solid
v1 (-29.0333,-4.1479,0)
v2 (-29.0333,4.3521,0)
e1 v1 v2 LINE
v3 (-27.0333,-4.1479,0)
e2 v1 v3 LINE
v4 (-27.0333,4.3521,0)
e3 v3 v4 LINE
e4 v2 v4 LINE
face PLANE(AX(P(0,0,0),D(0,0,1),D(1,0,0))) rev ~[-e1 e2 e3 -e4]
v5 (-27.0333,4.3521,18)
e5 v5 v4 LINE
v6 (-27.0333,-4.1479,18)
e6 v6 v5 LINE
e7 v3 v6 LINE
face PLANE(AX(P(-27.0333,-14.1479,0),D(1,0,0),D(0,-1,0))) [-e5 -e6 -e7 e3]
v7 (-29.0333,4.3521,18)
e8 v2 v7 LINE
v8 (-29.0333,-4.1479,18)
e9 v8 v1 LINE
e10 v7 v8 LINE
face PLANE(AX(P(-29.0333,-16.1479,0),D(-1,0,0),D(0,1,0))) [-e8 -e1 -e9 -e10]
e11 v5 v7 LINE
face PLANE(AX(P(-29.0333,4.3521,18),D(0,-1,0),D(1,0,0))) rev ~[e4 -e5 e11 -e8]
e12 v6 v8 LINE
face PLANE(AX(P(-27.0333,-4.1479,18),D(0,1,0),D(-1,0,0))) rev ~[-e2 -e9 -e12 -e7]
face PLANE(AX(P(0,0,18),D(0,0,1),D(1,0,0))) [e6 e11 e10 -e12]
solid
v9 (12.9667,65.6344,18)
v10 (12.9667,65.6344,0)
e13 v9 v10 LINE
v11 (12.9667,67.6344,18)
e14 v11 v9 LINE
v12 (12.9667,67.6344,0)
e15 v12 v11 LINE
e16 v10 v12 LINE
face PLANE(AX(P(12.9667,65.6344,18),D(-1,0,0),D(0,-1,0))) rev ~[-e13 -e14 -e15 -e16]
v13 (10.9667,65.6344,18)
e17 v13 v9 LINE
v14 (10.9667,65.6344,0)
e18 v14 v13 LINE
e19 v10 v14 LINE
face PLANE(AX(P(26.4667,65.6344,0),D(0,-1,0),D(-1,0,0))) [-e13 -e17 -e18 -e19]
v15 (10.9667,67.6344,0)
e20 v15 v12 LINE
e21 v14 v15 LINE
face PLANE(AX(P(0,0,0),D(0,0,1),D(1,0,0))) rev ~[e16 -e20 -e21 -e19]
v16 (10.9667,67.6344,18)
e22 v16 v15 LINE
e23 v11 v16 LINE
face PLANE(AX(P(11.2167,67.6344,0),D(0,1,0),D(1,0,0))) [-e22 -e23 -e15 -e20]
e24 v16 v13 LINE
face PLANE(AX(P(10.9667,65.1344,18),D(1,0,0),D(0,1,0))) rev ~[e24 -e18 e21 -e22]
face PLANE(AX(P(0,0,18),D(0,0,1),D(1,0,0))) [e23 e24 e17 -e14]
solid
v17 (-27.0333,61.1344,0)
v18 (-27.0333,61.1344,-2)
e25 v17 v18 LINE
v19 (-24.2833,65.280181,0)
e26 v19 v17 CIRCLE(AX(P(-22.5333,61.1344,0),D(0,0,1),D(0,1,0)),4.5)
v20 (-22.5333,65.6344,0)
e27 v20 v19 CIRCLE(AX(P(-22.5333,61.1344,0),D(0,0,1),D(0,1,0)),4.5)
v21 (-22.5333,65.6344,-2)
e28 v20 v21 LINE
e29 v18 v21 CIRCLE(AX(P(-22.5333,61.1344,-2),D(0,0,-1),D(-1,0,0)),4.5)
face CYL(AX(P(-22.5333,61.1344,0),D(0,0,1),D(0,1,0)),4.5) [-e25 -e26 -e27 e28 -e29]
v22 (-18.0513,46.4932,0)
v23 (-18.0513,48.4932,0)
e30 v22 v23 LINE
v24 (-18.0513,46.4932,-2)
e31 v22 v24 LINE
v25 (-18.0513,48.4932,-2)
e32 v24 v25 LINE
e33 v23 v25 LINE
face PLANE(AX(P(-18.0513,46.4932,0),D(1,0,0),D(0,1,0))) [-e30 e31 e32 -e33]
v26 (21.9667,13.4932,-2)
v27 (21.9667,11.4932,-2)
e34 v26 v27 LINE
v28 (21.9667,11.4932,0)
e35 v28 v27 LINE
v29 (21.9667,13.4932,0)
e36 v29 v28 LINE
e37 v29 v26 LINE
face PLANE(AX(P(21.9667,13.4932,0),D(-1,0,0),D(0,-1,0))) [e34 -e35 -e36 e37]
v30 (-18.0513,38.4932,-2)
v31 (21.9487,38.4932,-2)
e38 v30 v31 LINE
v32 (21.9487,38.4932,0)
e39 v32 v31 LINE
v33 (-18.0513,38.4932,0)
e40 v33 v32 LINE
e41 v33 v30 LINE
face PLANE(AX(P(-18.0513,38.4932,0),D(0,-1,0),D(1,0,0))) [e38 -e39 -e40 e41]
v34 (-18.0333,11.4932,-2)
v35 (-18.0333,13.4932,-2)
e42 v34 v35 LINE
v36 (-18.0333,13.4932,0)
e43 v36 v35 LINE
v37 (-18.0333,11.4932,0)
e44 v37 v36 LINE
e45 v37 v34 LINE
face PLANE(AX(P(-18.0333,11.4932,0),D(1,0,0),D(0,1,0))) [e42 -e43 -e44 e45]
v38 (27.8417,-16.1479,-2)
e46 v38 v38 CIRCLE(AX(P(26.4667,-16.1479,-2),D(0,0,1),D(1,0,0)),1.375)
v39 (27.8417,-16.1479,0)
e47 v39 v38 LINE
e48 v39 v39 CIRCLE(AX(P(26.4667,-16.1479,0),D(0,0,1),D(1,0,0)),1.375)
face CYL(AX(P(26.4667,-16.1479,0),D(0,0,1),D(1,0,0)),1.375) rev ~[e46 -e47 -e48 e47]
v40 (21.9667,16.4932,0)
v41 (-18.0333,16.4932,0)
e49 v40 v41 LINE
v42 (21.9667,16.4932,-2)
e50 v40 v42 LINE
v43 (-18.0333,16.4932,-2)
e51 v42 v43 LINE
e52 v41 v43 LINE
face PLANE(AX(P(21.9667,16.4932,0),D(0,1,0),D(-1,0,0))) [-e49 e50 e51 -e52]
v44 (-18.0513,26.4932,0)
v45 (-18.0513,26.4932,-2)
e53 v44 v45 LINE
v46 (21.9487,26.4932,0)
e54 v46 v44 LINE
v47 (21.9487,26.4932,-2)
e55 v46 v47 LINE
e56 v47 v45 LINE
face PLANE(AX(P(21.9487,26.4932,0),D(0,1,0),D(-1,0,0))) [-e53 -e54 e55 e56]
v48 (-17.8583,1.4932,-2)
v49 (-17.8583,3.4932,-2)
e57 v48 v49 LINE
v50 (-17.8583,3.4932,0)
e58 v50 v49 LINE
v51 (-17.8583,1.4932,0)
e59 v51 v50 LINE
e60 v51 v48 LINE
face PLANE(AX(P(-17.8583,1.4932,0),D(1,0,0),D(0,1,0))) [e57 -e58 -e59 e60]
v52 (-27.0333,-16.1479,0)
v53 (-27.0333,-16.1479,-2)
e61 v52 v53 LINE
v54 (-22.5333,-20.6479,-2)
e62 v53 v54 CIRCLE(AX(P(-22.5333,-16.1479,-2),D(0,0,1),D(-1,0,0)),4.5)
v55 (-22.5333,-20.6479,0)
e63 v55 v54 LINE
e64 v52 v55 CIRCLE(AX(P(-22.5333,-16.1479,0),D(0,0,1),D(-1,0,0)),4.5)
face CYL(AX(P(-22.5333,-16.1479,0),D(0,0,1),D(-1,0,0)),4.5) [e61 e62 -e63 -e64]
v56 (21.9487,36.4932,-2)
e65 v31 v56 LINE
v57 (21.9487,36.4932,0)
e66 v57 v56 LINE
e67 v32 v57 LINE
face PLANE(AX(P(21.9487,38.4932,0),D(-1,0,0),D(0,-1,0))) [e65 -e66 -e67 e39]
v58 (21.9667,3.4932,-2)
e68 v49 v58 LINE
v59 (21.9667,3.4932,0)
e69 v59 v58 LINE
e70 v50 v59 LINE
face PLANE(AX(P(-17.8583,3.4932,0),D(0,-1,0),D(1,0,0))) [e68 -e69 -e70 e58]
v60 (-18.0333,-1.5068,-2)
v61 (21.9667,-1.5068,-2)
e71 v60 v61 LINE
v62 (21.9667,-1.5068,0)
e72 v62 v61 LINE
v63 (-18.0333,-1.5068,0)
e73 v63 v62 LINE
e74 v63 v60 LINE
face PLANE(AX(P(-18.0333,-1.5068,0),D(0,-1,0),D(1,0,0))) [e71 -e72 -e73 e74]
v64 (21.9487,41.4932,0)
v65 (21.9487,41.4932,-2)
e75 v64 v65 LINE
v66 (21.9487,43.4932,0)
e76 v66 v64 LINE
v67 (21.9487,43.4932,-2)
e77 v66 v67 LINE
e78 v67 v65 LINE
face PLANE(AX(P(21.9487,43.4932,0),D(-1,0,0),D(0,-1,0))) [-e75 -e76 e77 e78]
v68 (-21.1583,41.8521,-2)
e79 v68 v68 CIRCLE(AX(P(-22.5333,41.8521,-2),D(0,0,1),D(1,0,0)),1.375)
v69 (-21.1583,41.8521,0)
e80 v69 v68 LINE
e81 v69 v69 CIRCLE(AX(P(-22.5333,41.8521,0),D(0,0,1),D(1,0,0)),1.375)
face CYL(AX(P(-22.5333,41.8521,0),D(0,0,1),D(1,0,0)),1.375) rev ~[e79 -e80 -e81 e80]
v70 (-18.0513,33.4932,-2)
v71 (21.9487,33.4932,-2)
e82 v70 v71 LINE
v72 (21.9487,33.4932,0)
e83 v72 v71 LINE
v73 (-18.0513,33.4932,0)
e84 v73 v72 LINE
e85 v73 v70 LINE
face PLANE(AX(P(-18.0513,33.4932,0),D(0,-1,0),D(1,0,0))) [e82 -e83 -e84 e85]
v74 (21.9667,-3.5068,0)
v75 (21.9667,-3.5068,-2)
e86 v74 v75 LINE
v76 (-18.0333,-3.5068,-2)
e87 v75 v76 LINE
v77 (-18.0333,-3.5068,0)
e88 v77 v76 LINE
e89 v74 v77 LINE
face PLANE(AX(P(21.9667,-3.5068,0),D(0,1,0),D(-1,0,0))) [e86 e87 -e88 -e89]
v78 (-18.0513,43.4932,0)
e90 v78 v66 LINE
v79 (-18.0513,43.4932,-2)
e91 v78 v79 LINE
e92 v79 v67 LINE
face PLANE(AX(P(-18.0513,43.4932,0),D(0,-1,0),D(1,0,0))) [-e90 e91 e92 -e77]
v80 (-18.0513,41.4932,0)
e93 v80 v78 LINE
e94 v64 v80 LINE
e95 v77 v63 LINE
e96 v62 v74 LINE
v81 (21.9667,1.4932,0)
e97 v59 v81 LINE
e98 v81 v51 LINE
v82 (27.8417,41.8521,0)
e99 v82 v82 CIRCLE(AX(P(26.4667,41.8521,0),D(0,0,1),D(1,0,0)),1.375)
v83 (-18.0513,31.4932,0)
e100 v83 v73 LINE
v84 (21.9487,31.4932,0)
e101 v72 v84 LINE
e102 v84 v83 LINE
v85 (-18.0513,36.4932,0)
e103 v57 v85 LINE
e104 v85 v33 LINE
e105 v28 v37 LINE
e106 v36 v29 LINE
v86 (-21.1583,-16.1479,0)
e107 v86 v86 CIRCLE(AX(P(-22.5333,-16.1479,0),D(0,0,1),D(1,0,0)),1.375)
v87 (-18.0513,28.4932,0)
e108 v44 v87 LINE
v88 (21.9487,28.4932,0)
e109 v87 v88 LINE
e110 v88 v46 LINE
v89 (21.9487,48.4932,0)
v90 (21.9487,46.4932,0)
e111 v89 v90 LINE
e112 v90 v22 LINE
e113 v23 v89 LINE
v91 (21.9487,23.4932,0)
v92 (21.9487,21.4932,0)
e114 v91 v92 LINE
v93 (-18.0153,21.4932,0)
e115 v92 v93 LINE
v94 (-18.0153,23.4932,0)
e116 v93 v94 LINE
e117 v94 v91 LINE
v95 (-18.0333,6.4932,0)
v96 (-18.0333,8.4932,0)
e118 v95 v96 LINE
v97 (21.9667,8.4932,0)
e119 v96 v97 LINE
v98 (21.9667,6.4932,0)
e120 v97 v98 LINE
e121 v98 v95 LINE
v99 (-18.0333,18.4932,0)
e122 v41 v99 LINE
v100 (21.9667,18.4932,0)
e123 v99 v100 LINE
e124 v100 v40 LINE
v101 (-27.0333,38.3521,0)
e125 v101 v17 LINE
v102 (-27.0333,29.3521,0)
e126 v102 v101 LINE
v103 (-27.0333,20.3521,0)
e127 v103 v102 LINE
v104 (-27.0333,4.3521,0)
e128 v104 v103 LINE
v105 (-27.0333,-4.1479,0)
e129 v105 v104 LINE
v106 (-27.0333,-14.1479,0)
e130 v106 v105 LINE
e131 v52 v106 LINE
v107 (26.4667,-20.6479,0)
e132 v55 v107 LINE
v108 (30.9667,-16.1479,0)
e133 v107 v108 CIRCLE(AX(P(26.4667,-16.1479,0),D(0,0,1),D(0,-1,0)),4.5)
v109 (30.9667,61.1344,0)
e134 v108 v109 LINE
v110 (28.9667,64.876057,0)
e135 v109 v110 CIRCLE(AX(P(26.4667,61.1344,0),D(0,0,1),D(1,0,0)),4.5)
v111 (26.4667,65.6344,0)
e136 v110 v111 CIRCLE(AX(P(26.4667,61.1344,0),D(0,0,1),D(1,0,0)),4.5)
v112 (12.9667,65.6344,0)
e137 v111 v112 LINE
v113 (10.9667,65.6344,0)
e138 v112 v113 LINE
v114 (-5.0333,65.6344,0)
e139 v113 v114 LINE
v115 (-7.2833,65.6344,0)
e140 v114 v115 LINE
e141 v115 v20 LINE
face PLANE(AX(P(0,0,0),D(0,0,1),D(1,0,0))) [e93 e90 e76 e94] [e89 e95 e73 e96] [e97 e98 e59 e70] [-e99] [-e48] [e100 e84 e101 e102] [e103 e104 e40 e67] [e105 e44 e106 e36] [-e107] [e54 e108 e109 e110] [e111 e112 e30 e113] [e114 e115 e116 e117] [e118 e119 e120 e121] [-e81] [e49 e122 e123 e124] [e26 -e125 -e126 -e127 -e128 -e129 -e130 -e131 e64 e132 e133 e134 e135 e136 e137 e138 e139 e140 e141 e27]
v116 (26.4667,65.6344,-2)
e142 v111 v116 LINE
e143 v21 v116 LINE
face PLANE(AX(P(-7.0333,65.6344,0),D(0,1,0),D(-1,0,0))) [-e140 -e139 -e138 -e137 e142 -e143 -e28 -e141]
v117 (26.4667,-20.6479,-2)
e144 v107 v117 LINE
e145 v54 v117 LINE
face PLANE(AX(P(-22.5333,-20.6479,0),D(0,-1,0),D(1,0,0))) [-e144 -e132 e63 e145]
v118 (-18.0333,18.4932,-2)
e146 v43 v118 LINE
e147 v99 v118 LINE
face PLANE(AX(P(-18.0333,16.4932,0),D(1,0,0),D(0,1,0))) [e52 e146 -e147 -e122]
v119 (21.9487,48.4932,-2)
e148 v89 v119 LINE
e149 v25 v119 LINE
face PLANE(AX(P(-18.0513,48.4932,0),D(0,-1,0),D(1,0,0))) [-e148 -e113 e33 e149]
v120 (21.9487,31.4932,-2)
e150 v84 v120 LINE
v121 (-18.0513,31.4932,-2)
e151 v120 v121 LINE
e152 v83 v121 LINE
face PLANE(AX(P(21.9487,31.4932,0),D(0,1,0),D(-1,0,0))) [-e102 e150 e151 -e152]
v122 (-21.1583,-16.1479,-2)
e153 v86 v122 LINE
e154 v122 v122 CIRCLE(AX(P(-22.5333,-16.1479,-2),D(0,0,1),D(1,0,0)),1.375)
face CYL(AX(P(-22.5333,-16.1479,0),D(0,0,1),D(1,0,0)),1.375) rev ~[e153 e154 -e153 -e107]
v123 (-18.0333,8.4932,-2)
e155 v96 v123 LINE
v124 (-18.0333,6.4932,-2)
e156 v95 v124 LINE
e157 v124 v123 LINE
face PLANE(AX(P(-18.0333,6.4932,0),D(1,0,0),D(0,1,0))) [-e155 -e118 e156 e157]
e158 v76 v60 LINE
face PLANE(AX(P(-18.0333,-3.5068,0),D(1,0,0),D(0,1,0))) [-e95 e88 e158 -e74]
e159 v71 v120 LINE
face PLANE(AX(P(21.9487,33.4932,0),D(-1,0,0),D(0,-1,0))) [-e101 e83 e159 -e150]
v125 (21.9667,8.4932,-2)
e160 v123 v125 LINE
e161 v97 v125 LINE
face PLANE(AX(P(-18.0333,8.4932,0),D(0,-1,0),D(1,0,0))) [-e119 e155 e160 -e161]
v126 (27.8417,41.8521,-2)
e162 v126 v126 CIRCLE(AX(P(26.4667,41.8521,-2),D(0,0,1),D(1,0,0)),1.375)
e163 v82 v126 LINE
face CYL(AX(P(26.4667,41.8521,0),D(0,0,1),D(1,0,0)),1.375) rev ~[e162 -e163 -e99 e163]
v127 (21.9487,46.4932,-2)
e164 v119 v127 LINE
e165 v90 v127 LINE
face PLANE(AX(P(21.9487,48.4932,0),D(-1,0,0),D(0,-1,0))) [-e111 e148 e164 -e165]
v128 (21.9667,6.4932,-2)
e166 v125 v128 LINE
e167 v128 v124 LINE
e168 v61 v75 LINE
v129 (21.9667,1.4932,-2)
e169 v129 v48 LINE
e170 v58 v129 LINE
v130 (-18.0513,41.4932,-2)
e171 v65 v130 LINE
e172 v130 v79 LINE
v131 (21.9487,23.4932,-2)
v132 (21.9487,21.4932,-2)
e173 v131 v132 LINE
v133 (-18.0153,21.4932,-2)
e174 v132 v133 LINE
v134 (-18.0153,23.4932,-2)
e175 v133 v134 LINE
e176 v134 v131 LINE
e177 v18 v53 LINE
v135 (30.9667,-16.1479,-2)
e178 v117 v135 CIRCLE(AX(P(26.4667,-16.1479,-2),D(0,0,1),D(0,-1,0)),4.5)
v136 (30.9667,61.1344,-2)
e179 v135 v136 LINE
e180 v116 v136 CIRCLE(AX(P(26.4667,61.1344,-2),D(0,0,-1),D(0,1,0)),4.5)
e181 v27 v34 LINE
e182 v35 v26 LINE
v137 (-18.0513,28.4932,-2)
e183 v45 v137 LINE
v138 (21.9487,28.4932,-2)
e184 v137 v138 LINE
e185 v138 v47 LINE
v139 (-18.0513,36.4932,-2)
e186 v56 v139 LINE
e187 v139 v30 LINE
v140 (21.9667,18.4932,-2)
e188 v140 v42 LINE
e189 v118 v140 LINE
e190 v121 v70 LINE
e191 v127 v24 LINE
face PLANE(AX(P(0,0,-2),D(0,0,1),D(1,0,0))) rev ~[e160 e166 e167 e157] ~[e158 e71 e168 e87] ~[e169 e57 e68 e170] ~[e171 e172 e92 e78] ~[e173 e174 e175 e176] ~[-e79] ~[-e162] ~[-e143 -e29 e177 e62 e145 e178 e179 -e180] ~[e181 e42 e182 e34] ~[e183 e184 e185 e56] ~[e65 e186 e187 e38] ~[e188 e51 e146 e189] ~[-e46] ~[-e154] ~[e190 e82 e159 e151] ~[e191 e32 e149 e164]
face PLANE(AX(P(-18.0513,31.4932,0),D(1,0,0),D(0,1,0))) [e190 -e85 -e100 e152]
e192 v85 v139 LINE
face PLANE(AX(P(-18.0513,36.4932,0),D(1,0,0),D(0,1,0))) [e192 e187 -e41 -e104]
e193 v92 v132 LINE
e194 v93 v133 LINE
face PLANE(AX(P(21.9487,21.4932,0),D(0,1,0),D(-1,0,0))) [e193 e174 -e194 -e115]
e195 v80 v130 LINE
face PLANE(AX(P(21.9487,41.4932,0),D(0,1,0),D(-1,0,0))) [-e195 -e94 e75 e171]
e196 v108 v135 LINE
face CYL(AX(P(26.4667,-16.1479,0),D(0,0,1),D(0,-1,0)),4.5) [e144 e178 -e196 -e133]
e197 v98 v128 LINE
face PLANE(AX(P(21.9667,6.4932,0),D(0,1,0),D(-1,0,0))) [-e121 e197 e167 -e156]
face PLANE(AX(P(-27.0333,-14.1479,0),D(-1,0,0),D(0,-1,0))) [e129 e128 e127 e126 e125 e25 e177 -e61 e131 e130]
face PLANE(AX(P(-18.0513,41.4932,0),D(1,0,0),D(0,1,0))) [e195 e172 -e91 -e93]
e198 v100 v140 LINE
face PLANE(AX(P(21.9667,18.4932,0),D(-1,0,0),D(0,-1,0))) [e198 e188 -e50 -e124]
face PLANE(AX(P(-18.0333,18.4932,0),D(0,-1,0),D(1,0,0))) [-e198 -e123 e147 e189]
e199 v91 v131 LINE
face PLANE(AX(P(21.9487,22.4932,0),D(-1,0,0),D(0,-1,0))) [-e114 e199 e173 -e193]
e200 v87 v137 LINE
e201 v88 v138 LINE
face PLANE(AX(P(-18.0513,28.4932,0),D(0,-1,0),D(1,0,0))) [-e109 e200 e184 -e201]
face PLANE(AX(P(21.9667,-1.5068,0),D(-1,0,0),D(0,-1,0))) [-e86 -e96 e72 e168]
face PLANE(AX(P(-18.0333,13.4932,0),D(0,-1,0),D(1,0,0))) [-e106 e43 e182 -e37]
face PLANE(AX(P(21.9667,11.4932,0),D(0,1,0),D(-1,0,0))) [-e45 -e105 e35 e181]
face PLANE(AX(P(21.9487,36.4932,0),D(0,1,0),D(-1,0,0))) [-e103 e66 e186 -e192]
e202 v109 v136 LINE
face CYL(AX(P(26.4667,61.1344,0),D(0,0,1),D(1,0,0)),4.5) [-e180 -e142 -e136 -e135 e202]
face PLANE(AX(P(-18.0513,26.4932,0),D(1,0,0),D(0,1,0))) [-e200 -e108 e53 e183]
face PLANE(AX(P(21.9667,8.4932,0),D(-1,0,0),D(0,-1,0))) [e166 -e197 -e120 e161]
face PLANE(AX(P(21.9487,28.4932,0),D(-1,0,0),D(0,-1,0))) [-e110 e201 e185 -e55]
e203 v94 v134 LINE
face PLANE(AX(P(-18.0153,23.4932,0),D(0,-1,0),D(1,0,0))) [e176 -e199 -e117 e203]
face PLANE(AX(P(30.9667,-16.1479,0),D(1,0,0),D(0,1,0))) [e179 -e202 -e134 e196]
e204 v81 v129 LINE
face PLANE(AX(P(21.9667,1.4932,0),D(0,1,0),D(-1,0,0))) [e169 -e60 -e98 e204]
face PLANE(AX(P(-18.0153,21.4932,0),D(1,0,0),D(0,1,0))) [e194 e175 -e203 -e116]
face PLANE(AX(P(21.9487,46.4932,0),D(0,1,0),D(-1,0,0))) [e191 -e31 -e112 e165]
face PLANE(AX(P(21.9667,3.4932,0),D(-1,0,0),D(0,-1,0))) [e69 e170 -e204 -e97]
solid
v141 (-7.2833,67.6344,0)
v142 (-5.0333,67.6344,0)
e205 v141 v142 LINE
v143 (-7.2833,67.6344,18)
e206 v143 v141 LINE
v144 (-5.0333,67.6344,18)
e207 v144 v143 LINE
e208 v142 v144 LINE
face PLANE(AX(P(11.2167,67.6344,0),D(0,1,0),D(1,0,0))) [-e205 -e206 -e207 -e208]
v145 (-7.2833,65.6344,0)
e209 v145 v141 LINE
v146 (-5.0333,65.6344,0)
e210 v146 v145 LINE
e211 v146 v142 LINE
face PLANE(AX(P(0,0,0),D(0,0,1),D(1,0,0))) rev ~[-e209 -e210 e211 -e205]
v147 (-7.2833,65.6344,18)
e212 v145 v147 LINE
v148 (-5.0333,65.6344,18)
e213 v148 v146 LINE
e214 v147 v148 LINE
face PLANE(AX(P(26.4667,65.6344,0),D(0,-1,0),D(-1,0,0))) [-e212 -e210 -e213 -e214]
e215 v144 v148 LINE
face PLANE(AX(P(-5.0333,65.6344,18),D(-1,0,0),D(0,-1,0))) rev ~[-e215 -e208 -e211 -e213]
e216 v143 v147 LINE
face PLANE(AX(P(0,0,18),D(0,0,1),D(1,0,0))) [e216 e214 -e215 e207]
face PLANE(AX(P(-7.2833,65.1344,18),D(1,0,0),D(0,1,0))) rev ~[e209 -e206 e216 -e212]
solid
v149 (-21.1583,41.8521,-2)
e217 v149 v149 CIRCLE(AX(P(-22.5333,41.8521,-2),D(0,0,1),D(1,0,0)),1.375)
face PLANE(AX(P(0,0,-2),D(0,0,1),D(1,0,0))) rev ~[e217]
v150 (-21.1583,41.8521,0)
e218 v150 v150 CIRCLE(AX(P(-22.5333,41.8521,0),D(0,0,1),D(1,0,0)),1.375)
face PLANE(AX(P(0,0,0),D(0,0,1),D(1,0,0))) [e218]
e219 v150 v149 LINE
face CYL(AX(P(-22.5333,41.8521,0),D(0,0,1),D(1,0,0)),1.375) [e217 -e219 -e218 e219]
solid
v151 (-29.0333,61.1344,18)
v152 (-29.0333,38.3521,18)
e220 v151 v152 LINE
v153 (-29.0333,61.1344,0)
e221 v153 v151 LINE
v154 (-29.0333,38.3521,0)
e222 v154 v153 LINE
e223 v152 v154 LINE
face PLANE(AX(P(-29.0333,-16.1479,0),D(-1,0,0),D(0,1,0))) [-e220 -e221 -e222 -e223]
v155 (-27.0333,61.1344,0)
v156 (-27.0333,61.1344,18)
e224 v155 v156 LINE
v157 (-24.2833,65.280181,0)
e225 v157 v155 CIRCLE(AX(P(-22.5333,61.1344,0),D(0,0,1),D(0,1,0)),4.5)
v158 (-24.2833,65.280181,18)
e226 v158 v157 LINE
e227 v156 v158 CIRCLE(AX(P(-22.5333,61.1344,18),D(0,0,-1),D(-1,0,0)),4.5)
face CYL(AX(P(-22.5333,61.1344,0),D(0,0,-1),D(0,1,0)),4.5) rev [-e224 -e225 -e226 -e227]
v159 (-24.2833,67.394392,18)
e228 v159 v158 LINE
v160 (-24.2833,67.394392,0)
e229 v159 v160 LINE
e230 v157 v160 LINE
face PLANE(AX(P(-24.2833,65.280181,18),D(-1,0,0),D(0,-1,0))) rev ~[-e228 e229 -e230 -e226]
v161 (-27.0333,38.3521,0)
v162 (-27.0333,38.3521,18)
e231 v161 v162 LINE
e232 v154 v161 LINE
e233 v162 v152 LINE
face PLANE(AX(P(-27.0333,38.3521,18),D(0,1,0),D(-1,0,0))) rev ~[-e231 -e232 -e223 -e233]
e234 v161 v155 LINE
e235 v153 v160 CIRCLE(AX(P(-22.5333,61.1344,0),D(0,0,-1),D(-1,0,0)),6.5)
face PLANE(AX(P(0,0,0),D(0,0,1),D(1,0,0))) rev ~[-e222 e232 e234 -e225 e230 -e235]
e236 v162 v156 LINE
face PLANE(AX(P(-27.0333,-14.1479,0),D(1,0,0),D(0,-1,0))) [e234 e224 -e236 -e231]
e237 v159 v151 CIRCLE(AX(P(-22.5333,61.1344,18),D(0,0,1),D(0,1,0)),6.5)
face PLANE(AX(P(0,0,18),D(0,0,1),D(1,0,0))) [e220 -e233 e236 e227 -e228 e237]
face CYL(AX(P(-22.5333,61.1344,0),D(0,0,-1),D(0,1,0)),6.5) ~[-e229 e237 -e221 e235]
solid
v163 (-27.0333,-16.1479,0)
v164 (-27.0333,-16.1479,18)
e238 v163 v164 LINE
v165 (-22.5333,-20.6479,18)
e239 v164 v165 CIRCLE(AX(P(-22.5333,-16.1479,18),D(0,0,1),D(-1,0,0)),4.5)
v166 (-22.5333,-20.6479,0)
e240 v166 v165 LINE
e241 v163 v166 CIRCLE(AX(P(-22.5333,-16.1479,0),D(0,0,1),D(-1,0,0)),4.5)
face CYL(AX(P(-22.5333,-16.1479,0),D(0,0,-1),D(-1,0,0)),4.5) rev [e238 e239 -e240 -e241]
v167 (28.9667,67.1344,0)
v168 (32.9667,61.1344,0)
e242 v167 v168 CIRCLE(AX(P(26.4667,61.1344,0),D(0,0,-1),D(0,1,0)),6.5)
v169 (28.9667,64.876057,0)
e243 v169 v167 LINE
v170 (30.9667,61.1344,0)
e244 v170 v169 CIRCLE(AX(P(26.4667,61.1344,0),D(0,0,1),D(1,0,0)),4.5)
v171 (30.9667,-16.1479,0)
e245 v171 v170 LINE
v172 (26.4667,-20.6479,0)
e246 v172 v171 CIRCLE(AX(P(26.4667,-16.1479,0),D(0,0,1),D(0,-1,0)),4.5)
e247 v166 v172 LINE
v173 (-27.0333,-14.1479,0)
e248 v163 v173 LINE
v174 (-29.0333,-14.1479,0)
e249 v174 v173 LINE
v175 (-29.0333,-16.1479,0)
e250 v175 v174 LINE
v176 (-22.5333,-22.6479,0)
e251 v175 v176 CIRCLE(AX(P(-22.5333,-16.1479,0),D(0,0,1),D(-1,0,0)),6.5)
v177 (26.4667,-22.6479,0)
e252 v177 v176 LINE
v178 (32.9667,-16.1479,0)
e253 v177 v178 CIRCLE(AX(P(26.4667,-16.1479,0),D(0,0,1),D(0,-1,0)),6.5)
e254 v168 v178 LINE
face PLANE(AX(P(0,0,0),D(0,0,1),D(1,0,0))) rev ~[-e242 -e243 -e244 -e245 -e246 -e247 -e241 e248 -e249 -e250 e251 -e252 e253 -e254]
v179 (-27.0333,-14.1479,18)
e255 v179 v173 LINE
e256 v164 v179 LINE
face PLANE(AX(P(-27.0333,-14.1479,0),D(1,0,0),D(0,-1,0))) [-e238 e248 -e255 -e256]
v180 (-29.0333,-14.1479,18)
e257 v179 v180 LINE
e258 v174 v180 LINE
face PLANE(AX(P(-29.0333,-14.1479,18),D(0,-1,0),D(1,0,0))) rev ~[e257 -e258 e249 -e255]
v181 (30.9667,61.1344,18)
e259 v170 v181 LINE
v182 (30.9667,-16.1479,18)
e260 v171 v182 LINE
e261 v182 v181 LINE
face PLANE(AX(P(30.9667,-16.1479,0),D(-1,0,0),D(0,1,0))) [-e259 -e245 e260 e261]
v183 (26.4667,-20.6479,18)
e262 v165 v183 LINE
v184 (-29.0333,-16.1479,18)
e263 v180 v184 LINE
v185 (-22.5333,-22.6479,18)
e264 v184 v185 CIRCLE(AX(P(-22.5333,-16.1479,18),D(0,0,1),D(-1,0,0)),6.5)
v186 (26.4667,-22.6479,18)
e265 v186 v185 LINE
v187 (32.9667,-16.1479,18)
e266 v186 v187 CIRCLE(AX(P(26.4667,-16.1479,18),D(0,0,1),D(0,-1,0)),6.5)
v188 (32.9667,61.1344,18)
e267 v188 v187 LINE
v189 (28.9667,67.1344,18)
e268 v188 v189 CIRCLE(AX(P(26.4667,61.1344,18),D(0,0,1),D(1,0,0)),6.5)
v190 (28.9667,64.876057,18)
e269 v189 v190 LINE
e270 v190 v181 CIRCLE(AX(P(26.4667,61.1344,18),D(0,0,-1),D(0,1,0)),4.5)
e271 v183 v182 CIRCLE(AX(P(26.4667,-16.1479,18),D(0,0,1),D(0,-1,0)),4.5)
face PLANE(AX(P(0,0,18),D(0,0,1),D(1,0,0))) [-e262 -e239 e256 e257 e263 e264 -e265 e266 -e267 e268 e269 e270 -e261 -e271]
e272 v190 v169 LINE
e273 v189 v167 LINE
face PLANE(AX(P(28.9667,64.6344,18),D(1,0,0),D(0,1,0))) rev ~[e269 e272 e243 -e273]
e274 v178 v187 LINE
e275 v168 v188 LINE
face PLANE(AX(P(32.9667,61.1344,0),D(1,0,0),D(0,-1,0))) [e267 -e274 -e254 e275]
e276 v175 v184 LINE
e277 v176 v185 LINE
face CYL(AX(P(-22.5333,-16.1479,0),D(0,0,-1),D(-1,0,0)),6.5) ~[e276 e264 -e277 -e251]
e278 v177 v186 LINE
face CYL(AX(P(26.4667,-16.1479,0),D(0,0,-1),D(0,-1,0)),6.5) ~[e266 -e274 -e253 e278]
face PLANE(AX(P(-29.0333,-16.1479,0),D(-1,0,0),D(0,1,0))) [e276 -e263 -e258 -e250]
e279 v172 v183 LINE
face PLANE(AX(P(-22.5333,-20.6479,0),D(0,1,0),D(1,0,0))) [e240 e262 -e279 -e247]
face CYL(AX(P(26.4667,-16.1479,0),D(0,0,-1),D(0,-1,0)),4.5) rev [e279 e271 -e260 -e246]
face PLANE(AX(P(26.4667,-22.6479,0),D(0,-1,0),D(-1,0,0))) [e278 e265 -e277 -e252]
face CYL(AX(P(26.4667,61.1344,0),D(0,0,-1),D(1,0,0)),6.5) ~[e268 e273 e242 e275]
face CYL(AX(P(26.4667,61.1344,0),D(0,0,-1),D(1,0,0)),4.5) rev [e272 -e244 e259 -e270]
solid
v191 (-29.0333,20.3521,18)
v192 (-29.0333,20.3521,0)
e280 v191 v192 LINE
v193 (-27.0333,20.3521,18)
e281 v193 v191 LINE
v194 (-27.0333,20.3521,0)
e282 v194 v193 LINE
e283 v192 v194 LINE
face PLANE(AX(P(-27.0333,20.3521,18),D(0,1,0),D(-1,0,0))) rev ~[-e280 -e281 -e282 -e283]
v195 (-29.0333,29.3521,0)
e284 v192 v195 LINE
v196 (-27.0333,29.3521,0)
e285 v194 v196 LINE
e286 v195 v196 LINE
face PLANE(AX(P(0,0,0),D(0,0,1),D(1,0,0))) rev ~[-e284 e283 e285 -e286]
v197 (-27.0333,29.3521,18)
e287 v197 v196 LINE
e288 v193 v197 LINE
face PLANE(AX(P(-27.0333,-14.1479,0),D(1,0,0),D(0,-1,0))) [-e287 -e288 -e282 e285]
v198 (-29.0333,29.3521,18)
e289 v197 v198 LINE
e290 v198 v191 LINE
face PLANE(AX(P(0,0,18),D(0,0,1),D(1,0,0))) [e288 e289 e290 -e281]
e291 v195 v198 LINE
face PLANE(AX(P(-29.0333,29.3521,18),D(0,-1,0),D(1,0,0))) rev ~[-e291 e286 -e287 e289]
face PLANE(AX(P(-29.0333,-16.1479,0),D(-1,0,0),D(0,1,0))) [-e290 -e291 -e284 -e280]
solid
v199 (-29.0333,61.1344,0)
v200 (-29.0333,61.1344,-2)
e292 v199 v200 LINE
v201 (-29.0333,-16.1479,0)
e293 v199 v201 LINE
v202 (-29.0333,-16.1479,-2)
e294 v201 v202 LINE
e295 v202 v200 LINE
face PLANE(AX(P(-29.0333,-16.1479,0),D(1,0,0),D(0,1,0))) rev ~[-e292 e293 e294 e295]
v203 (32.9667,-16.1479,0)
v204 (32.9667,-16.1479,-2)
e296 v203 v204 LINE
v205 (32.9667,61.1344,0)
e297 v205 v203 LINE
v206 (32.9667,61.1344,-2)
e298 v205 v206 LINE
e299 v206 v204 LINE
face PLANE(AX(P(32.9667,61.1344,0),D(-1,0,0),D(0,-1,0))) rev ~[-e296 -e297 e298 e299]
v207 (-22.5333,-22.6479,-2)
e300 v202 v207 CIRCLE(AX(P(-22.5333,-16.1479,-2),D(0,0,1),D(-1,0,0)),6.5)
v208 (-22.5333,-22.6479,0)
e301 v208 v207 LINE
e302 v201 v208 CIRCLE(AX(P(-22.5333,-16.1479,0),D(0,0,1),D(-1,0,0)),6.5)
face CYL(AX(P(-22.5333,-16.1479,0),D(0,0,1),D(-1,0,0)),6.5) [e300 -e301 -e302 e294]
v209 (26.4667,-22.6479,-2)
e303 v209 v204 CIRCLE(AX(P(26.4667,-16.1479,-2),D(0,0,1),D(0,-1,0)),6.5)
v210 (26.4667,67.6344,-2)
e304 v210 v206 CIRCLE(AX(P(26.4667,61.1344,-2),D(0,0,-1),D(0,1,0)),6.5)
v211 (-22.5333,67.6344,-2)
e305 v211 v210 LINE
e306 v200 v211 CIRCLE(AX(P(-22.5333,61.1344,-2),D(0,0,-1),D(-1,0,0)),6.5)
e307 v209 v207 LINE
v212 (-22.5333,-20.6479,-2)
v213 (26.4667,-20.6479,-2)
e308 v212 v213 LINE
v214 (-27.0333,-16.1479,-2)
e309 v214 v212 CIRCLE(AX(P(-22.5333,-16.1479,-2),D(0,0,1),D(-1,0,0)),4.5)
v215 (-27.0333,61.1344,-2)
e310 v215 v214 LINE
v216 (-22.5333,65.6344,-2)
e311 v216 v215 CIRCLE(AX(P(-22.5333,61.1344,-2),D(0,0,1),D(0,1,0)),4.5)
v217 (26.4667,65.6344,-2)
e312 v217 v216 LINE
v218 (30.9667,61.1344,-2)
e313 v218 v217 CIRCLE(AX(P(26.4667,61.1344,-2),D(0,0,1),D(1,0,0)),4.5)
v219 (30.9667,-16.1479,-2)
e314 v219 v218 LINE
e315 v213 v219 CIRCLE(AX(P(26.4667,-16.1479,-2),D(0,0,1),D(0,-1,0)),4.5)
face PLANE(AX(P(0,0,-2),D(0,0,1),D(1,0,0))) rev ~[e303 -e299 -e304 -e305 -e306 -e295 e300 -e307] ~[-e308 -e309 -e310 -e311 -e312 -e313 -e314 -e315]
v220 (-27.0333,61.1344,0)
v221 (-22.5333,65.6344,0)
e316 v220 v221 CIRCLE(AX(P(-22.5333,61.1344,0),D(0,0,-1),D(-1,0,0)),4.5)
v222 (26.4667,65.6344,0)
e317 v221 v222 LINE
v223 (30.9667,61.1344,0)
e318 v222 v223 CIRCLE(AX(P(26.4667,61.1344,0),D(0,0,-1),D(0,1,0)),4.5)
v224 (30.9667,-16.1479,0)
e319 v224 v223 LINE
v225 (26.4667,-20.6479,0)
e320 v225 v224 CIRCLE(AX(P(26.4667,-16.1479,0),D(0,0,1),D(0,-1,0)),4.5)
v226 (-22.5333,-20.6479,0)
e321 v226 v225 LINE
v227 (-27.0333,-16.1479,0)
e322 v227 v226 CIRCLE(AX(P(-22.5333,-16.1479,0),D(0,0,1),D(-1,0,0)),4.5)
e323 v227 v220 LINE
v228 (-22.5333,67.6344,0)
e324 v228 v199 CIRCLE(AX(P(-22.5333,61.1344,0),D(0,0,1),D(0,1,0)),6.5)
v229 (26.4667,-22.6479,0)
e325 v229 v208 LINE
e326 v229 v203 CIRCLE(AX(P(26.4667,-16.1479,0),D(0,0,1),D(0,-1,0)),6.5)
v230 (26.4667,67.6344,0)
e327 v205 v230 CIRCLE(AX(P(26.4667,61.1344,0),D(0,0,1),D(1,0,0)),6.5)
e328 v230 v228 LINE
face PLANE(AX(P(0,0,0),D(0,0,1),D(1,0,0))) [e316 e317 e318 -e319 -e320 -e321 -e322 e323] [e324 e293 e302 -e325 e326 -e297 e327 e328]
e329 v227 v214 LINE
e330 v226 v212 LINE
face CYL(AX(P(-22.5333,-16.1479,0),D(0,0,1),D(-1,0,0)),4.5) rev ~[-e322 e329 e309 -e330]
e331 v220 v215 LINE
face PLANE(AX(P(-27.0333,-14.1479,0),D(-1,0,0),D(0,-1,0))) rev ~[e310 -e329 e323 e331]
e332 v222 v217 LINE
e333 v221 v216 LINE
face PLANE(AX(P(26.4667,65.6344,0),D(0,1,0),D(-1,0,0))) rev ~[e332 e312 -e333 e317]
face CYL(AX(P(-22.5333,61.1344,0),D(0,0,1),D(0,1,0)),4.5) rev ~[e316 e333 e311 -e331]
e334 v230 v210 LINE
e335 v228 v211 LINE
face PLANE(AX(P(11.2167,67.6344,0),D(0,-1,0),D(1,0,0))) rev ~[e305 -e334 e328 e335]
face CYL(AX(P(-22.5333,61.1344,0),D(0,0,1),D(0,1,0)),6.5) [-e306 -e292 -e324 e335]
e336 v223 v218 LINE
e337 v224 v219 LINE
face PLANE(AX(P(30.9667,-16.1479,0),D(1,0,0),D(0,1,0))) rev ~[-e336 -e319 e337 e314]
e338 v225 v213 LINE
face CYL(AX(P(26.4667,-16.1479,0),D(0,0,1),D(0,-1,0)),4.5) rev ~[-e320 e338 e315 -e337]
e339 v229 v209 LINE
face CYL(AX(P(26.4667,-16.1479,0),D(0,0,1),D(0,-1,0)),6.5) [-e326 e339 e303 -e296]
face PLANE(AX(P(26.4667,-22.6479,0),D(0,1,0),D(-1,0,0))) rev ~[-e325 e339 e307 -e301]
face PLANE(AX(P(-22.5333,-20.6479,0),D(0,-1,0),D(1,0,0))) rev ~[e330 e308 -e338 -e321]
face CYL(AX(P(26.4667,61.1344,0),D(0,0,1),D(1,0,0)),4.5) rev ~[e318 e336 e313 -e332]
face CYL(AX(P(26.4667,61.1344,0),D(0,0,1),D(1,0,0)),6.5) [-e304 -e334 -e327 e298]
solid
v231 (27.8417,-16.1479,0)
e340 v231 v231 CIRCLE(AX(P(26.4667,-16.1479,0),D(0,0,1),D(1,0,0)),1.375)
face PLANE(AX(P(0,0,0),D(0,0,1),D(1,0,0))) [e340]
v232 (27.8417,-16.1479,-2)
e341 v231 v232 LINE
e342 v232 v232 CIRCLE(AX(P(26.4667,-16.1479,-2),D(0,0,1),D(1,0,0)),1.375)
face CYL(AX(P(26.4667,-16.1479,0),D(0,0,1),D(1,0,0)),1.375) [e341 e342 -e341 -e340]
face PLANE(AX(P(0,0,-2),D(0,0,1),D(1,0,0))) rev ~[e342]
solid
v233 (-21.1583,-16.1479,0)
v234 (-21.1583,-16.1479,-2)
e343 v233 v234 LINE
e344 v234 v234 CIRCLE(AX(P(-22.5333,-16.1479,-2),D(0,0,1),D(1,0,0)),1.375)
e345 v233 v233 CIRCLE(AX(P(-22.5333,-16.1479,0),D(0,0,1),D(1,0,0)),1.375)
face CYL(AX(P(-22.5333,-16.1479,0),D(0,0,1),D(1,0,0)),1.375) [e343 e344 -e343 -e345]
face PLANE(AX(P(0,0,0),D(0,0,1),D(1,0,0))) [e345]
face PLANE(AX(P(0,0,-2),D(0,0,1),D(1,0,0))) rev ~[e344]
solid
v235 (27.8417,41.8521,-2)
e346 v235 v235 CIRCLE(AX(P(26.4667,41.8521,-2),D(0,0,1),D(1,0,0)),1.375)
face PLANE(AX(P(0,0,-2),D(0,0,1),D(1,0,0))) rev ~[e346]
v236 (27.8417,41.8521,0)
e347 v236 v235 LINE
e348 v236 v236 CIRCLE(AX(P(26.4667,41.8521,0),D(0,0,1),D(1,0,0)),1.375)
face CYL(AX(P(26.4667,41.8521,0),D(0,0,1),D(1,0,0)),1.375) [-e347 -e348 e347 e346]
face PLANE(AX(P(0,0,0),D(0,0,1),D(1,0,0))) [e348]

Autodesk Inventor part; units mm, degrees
ref_plane "YZ Plane" through (0, 0, 0) normal (1, 0, 0) x (0, 1, 0)
ref_plane "XZ Plane" through (0, 0, 0) normal (0, 1, 0) x (-1, 0, 0)
ref_plane "XY Plane" through (0, 0, 0) normal (0, 0, 1) x (1, 0, 0)
sketch "Boceto1" plane through (0, 0, 0) normal (0, 0, 1) x (1, 0, 0)
  line L0 (26.4667, -19.6479) -> (-22.5333, -19.6479) construction
  line L1 (-26.0333, -16.1479) -> (-26.0333, 61.1344) construction
  arc A0 (-26.0333, -16.1479) -> (-22.5333, -19.6479) centre (-22.5333, -16.1479) ccw construction
  arc A1 (26.4667, -19.6479) -> (29.9667, -16.1479) centre (26.4667, -16.1479) ccw construction
  arc A2 (29.9667, 61.1344) -> (26.4667, 64.6344) centre (26.4667, 61.1344) ccw construction
  arc A3 (-22.5333, 64.6344) -> (-26.0333, 61.1344) centre (-22.5333, 61.1344) ccw construction
  circle A4 centre (-22.5333, 41.8521) radius 1.375
  line L2 (-4.815, -3.944) -> (-4.815, 39.962) construction
  line L3 (-4.815, 39.962) -> (4.8805, 39.962) construction
  line L4 (4.8805, 39.962) -> (4.8805, -3.944) construction
  line L5 (4.8805, -3.944) -> (-4.815, -3.944) construction
  circle A5 centre (-22.5333, -16.1479) radius 1.375
  circle A6 centre (26.4667, -16.1479) radius 1.375
  line L6 (29.9667, 61.1344) -> (29.9667, -16.1479) construction
  line L7 (26.4667, 64.6344) -> (-22.5333, 64.6344) construction
  line L8 (-22.5333, -20.6479) -> (26.4667, -20.6479)
  arc A7 (26.4667, -20.6479) -> (30.9667, -16.1479) centre (26.4667, -16.1479) ccw
  line L9 (30.9667, -16.1479) -> (30.9667, 61.1344)
  arc A8 (30.9667, 61.1344) -> (26.4667, 65.6344) centre (26.4667, 61.1344) ccw
  line L10 (26.4667, 65.6344) -> (-22.5333, 65.6344)
  arc A9 (-22.5333, 65.6344) -> (-27.0333, 61.1344) centre (-22.5333, 61.1344) ccw
  line L11 (-27.0333, 61.1344) -> (-27.0333, -16.1479)
  arc A10 (-27.0333, -16.1479) -> (-22.5333, -20.6479) centre (-22.5333, -16.1479) ccw
  line L12 (26.4667, -22.6479) -> (-22.5333, -22.6479)
  arc A11 (-29.0333, -16.1479) -> (-22.5333, -22.6479) centre (-22.5333, -16.1479) ccw
  line L13 (-29.0333, -16.1479) -> (-29.0333, 61.1344)
  arc A12 (-22.5333, 67.6344) -> (-29.0333, 61.1344) centre (-22.5333, 61.1344) ccw
  line L14 (-22.5333, 67.6344) -> (26.4667, 67.6344)
  arc A13 (32.9667, 61.1344) -> (26.4667, 67.6344) centre (26.4667, 61.1344) ccw
  line L15 (32.9667, 61.1344) -> (32.9667, -16.1479)
  arc A14 (26.4667, -22.6479) -> (32.9667, -16.1479) centre (26.4667, -16.1479) ccw
  circle A15 centre (26.4667, 41.8521) radius 1.375
  line L16 (-25.0333, 64.6344) -> (-9.0333, 64.6344)
  line L17 (-9.0333, 64.6344) -> (-9.0333, 68.6344)
  line L18 (-9.0333, 68.6344) -> (-25.0333, 68.6344)
  line L19 (-25.0333, 68.6344) -> (-25.0333, 64.6344)
  line L20 (-25.0333, 64.6344) -> (-9.0333, 68.6344) construction
  line L21 (-9.0333, 64.6344) -> (-25.0333, 68.6344) construction
  circle A16 centre (-4.2556, 66.6344) radius 1 construction
  line L22 (-25.0333, 66.6344) -> (32.9515, 66.6344) construction
  line L23 (-7.0333, 64.6344) -> (8.9667, 64.6344)
  line L24 (8.9667, 64.6344) -> (8.9667, 68.6344)
  line L25 (8.9667, 68.6344) -> (-7.0333, 68.6344)
  line L26 (-7.0333, 68.6344) -> (-7.0333, 64.6344)
  line L27 (-7.0333, 64.6344) -> (8.9667, 68.6344) construction
  line L28 (8.9667, 64.6344) -> (-7.0333, 68.6344) construction
  line L29 (11.2167, 64.6344) -> (28.2167, 64.6344)
  line L30 (28.2167, 64.6344) -> (28.2167, 68.6344)
  line L31 (28.2167, 68.6344) -> (11.2167, 68.6344)
  line L32 (11.2167, 68.6344) -> (11.2167, 64.6344)
  line L33 (11.2167, 64.6344) -> (28.2167, 68.6344) construction
  line L34 (28.2167, 64.6344) -> (11.2167, 68.6344) construction
  circle A17 centre (-28.0333, 46.7254) radius 1 construction
  line L35 (-28.0333, 65.5936) -> (-28.0333, -17.0308) construction
  line L36 (-30.0333, 29.3521) -> (-26.0333, 29.3521)
  line L37 (-26.0333, 29.3521) -> (-26.0333, 38.3521)
  line L38 (-26.0333, 38.3521) -> (-30.0333, 38.3521)
  line L39 (-30.0333, 38.3521) -> (-30.0333, 29.3521)
  line L40 (-30.0333, 29.3521) -> (-26.0333, 38.3521) construction
  line L41 (-26.0333, 29.3521) -> (-30.0333, 38.3521) construction
  line L42 (-30.0333, 4.3521) -> (-26.0333, 4.3521)
  line L43 (-26.0333, 4.3521) -> (-26.0333, 20.3521)
  line L44 (-26.0333, 20.3521) -> (-30.0333, 20.3521)
  line L45 (-30.0333, 20.3521) -> (-30.0333, 4.3521)
  line L46 (-30.0333, 4.3521) -> (-26.0333, 20.3521) construction
  line L47 (-26.0333, 4.3521) -> (-30.0333, 20.3521) construction
  line L48 (-30.0333, -14.1479) -> (-26.0333, -14.1479)
  line L49 (-26.0333, -14.1479) -> (-26.0333, -4.1479)
  line L50 (-26.0333, -4.1479) -> (-30.0333, -4.1479)
  line L51 (-30.0333, -4.1479) -> (-30.0333, -14.1479)
  line L52 (-30.0333, -14.1479) -> (-26.0333, -4.1479) construction
  line L53 (-26.0333, -14.1479) -> (-30.0333, -4.1479) construction
  point P0 (0, 0)
  point P1 (0, 0)
  point P2 (29.9667, -19.6479)
  point P3 (-26.0333, -19.6479)
  point P4 (0, 0)
  point P5 (-17.0333, 66.6344)
  point P6 (-5.0179, 67.6344)
  point P7 (-5.0179, 65.6344)
  point P8 (-17.0333, 66.6344)
  point P9 (0.9667, 66.6344)
  point P10 (19.7167, 66.6344)
  point P11 (-28.0333, 33.8521)
  point P12 (-28.0333, 12.3521)
  point P13 (-28.0333, -9.1479)
  dimension "d0" = 56
  dimension "d4" = 2.75
  dimension "d6" = 58
  dimension "d25" = 2.75
  dimension "d26" = 2.75
  dimension "d51" = 1
  dimension "d52" = 2
  dimension "d53" = 49
  dimension "d54" = 3.5
  dimension "d55" = 3.5
  dimension "d56" = 2.75
  dimension "d57" = 16
  dimension "d58" = 4
  dimension "d60" = 47
  dimension "d61" = 3.5
  dimension "d62" = 3.5
  dimension "d63" = 16
  dimension "d64" = 4
  dimension "d65" = 29
  dimension "d66" = 17
  dimension "d67" = 4
  dimension "d68" = 10.25
  dimension "d69" = 9
  dimension "d70" = 4
  dimension "d71" = 16
  dimension "d72" = 4
  dimension "d73" = 10
  dimension "d74" = 10.5
  dimension "d75" = 32
  dimension "d76" = 53.5
extrude "Extrusión7" add sketch "Boceto1" against normal blind 2 contours A10 L11 L48 L49 L50 L42 L43 L44 L36 L37 L38 A9 L19 L16 L17 L10 L26 L23 L24 L32 L29 L30 A8 L9 A7 L8 | L11 L50 L49 L48 | L30 L29 L32 L10 A8 | L11 L44 L43 L42 | L11 L38 L37 L36 | L24 L23 L26 L10 | L17 L16 L19 A9 L10
extrude "Extrusión8" add sketch "Boceto1" along normal blind 18 contours L8 A7 L9 A8 L30 A13 L15 A14 L12 A11 L13 L48 L11 A10 | L48 L13 L50 L11 | L50 L13 L42 L11 | A8 L10 L32 L14 A13 L30 | L42 L13 L44 L11 | L44 L13 L36 L11 | L10 L24 L14 L32 | L36 L13 L38 L11 | L10 L26 L14 L24 | L38 L13 A12 L19 A9 L11 | L10 L17 L14 L26 | L10 A9 L19 A12 L14 L17
extrude "Extrusión9" add sketch "Boceto1" against normal up to surface (2 mm away) separate body contours L8 A7 L9 A8 L30 A13 L15 A14 L12 A11 L13 L48 L11 A10 | L48 L13 L50 L11 | L50 L13 L42 L11 | A8 L10 L32 L14 A13 L30 | L42 L13 L44 L11 | L44 L13 L36 L11 | L10 L24 L14 L32 | L36 L13 L38 L11 | L10 L26 L14 L24 | L38 L13 A12 L19 A9 L11 | L10 L17 L14 L26 | L10 A9 L19 A12 L14 L17
sketch "Boceto5" plane through (0, 0, 18) normal (0, 0, 1) x (1, 0, 0)
  circle A0 centre (-22.5333, 41.8521) radius 1.375
  line L0 (-4.815, -3.944) -> (-4.815, 39.962) construction
  line L1 (4.8805, 39.962) -> (4.8805, -3.944) construction
  arc A1 (26.4667, -19.6479) -> (29.9667, -16.1479) centre (26.4667, -16.1479) ccw construction
  line L2 (26.4667, -19.6479) -> (-22.5333, -19.6479) construction
  line L3 (-26.0333, -16.1479) -> (-26.0333, 61.1344) construction
  line L4 (-4.815, 39.962) -> (4.8805, 39.962) construction
  arc A2 (-26.0333, -16.1479) -> (-22.5333, -19.6479) centre (-22.5333, -16.1479) ccw construction
  arc A3 (-22.5333, 64.6344) -> (-26.0333, 61.1344) centre (-22.5333, 61.1344) ccw construction
  line L5 (4.8805, -3.944) -> (-4.815, -3.944) construction
  arc A4 (29.9667, 61.1344) -> (26.4667, 64.6344) centre (26.4667, 61.1344) ccw construction
  circle A5 centre (-22.5333, -16.1479) radius 1.375
  circle A6 centre (26.4667, -16.1479) radius 1.375
  line L6 (29.9667, 61.1344) -> (29.9667, -16.1479) construction
  line L7 (26.4667, 64.6344) -> (-22.5333, 64.6344) construction
  line L8 (-22.5333, -20.6479) -> (26.4667, -20.6479)
  arc A7 (26.4667, -20.6479) -> (30.9667, -16.1479) centre (26.4667, -16.1479) ccw
  line L9 (30.9667, -16.1479) -> (30.9667, 61.1344)
  arc A8 (30.9667, 61.1344) -> (26.4667, 65.6344) centre (26.4667, 61.1344) ccw
  line L10 (26.4667, 65.6344) -> (-22.5333, 65.6344)
  arc A9 (-22.5333, 65.6344) -> (-27.0333, 61.1344) centre (-22.5333, 61.1344) ccw
  line L11 (-27.0333, 61.1344) -> (-27.0333, -16.1479)
  arc A10 (-27.0333, -16.1479) -> (-22.5333, -20.6479) centre (-22.5333, -16.1479) ccw
  line L12 (26.4667, -22.6479) -> (-22.5333, -22.6479)
  arc A11 (-29.0333, -16.1479) -> (-22.5333, -22.6479) centre (-22.5333, -16.1479) ccw
  line L13 (-29.0333, -16.1479) -> (-29.0333, 61.1344)
  arc A12 (-22.5333, 67.6344) -> (-29.0333, 61.1344) centre (-22.5333, 61.1344) ccw
  line L14 (-22.5333, 67.6344) -> (26.4667, 67.6344)
  arc A13 (32.9667, 61.1344) -> (26.4667, 67.6344) centre (26.4667, 61.1344) ccw
  line L15 (32.9667, 61.1344) -> (32.9667, -16.1479)
  arc A14 (26.4667, -22.6479) -> (32.9667, -16.1479) centre (26.4667, -16.1479) ccw
  circle A15 centre (24.125, 37.3929) radius 1.375
  circle A16 centre (-4.2556, 66.6344) radius 1 construction
  line L16 (-26.7903, 66.6344) -> (31.1945, 66.6344) construction
  circle A17 centre (-28.0333, 46.7254) radius 1 construction
  line L17 (-28.0333, 65.5936) -> (-28.0333, -17.0308) construction
  line L18 (-30.0333, 29.3521) -> (-26.0333, 29.3521)
  line L19 (-26.0333, 29.3521) -> (-26.0333, 38.3521)
  line L20 (-26.0333, 38.3521) -> (-30.0333, 38.3521)
  line L21 (-30.0333, 38.3521) -> (-30.0333, 29.3521)
  line L22 (-30.0333, 29.3521) -> (-26.0333, 38.3521) construction
  line L23 (-26.0333, 29.3521) -> (-30.0333, 38.3521) construction
  line L24 (-30.0333, 4.3521) -> (-26.0333, 4.3521)
  line L25 (-26.0333, 4.3521) -> (-26.0333, 20.3521)
  line L26 (-26.0333, 20.3521) -> (-30.0333, 20.3521)
  line L27 (-30.0333, 20.3521) -> (-30.0333, 4.3521)
  line L28 (-30.0333, 4.3521) -> (-26.0333, 20.3521) construction
  line L29 (-26.0333, 4.3521) -> (-30.0333, 20.3521) construction
  line L30 (-30.0333, -14.1479) -> (-26.0333, -14.1479)
  line L31 (-26.0333, -14.1479) -> (-26.0333, -4.1479)
  line L32 (-26.0333, -4.1479) -> (-30.0333, -4.1479)
  line L33 (-30.0333, -4.1479) -> (-30.0333, -14.1479)
  line L34 (-30.0333, -14.1479) -> (-26.0333, -4.1479) construction
  line L35 (-26.0333, -14.1479) -> (-30.0333, -4.1479) construction
  line L36 (-24.2833, 65.1344) -> (-7.2833, 65.1344)
  line L37 (-7.2833, 65.1344) -> (-7.2833, 68.1344)
  line L38 (-7.2833, 68.1344) -> (-24.2833, 68.1344)
  line L39 (-24.2833, 68.1344) -> (-24.2833, 65.1344)
  line L40 (-24.2833, 65.1344) -> (-7.2833, 68.1344) construction
  line L41 (-7.2833, 65.1344) -> (-24.2833, 68.1344) construction
  line L42 (-5.0333, 65.1344) -> (10.9667, 65.1344)
  line L43 (10.9667, 65.1344) -> (10.9667, 68.1344)
  line L44 (10.9667, 68.1344) -> (-5.0333, 68.1344)
  line L45 (-5.0333, 68.1344) -> (-5.0333, 65.1344)
  line L46 (-5.0333, 65.1344) -> (10.9667, 68.1344) construction
  line L47 (10.9667, 65.1344) -> (-5.0333, 68.1344) construction
  line L48 (12.9667, 64.6344) -> (28.9667, 64.6344)
  line L49 (28.9667, 64.6344) -> (28.9667, 68.6344)
  line L50 (28.9667, 68.6344) -> (12.9667, 68.6344)
  line L51 (12.9667, 68.6344) -> (12.9667, 64.6344)
  line L52 (12.9667, 64.6344) -> (28.9667, 68.6344) construction
  line L53 (28.9667, 64.6344) -> (12.9667, 68.6344) construction
  line L54 (-27.0333, -16.1479) -> (-27.0333, 61.1344) projected
  point P0 (0, 0)
  point P1 (0, 0)
  point P2 (29.9667, -19.6479)
  point P3 (-26.0333, -19.6479)
  point P4 (0, 0)
  point P5 (0, 0)
  point P6 (-5.0179, 65.6344)
  point P7 (-28.0333, 33.8521)
  point P8 (-28.0333, 12.3521)
  point P9 (-28.0333, -9.1479)
  point P10 (-15.7833, 66.6344)
  point P11 (2.9667, 66.6344)
  point P12 (20.9667, 66.6344)
  dimension "d83" = 56
  dimension "d84" = 2.75
  dimension "d85" = 58
  dimension "d86" = 2.75
  dimension "d87" = 2.75
  dimension "d88" = 1
  dimension "d89" = 2
  dimension "d90" = 49
  dimension "d91" = 3.5
  dimension "d92" = 3.5
  dimension "d93" = 2.75
  dimension "d97" = 3.5
  dimension "d98" = 3.5
  dimension "d105" = 9
  dimension "d106" = 4
  dimension "d107" = 16
  dimension "d108" = 4
  dimension "d109" = 10
  dimension "d110" = 10.5
  dimension "d111" = 32
  dimension "d112" = 53.5
  dimension "d147" = 17
  dimension "d148" = 3
  dimension "d149" = 16
  dimension "d150" = 3
  dimension "d151" = 16
  dimension "d152" = 4
  dimension "d153" = 10.25
  dimension "d154" = 29
  dimension "d155" = 47
extrude "Extrusión11" add sketch "Boceto1" against normal up to surface (2 mm away) separate body contours A4 | A5 | A6 | A15
sketch "Boceto6" plane through (0, 0, 0) normal (0, 0, 1) x (1, 0, 0)
  circle A0 centre (-22.5333, 41.8521) radius 1.375 projected
  circle A1 centre (-22.5333, -16.1479) radius 1.375 projected
  circle A2 centre (26.4667, -16.1479) radius 1.375 projected
  circle A3 centre (26.4667, 41.8521) radius 1.375 projected
  line L0 (-27.0333, 61.1344) -> (-27.0333, -16.1479) projected
  arc A4 (-27.0333, -16.1479) -> (-22.5333, -20.6479) centre (-22.5333, -16.1479) ccw projected
  line L1 (-22.5333, -20.6479) -> (26.4667, -20.6479) projected
  arc A5 (26.4667, -20.6479) -> (30.9667, -16.1479) centre (26.4667, -16.1479) ccw projected
  line L2 (30.9667, -16.1479) -> (30.9667, 61.1344) projected
  arc A6 (30.9667, 61.1344) -> (26.4667, 65.6344) centre (26.4667, 61.1344) ccw projected
  line L3 (26.4667, 65.6344) -> (-22.5333, 65.6344) projected
  arc A7 (-22.5333, 65.6344) -> (-27.0333, 61.1344) centre (-22.5333, 61.1344) ccw projected
  line L4 (-18.0333, 8.4932) -> (21.9667, 8.4932)
  line L5 (21.9667, 8.4932) -> (21.9667, 6.4932)
  line L6 (21.9667, 6.4932) -> (-18.0333, 6.4932)
  line L7 (-18.0333, 6.4932) -> (-18.0333, 8.4932)
  line L8 (-18.0333, 8.4932) -> (21.9667, 6.4932) construction
  line L9 (21.9667, 8.4932) -> (-18.0333, 6.4932) construction
  line L10 (-17.8583, 3.4932) -> (21.9667, 3.4932)
  line L11 (21.9667, 3.4932) -> (21.9667, 1.4932)
  line L12 (21.9667, 1.4932) -> (-17.8583, 1.4932)
  line L13 (-17.8583, 1.4932) -> (-17.8583, 3.4932)
  line L14 (-17.8583, 3.4932) -> (21.9667, 1.4932) construction
  line L15 (21.9667, 3.4932) -> (-17.8583, 1.4932) construction
  line L16 (-18.0513, 48.4932) -> (21.9487, 48.4932)
  line L17 (21.9487, 48.4932) -> (21.9487, 46.4932)
  line L18 (21.9487, 46.4932) -> (-18.0513, 46.4932)
  line L19 (-18.0513, 46.4932) -> (-18.0513, 48.4932)
  line L20 (-18.0513, 48.4932) -> (21.9487, 46.4932) construction
  line L21 (21.9487, 48.4932) -> (-18.0513, 46.4932) construction
  line L22 (-18.0513, 43.4932) -> (21.9487, 43.4932)
  line L23 (21.9487, 43.4932) -> (21.9487, 41.4932)
  line L24 (21.9487, 41.4932) -> (-18.0513, 41.4932)
  line L25 (-18.0513, 41.4932) -> (-18.0513, 43.4932)
  line L26 (-18.0513, 43.4932) -> (21.9487, 41.4932) construction
  line L27 (21.9487, 43.4932) -> (-18.0513, 41.4932) construction
  line L28 (-18.0513, 38.4932) -> (21.9487, 38.4932)
  line L29 (21.9487, 38.4932) -> (21.9487, 36.4932)
  line L30 (21.9487, 36.4932) -> (-18.0513, 36.4932)
  line L31 (-18.0513, 36.4932) -> (-18.0513, 38.4932)
  line L32 (-18.0513, 38.4932) -> (21.9487, 36.4932) construction
  line L33 (21.9487, 38.4932) -> (-18.0513, 36.4932) construction
  line L34 (-18.0513, 33.4932) -> (21.9487, 33.4932)
  line L35 (21.9487, 33.4932) -> (21.9487, 31.4932)
  line L36 (21.9487, 31.4932) -> (-18.0513, 31.4932)
  line L37 (-18.0513, 31.4932) -> (-18.0513, 33.4932)
  line L38 (-18.0513, 33.4932) -> (21.9487, 31.4932) construction
  line L39 (21.9487, 33.4932) -> (-18.0513, 31.4932) construction
  line L40 (-18.0513, 28.4932) -> (21.9487, 28.4932)
  line L41 (21.9487, 28.4932) -> (21.9487, 26.4932)
  line L42 (21.9487, 26.4932) -> (-18.0513, 26.4932)
  line L43 (-18.0513, 26.4932) -> (-18.0513, 28.4932)
  line L44 (-18.0513, 28.4932) -> (21.9487, 26.4932) construction
  line L45 (21.9487, 28.4932) -> (-18.0513, 26.4932) construction
  line L46 (-18.0153, 23.4932) -> (21.9487, 23.4932)
  line L47 (21.9487, 23.4932) -> (21.9487, 21.4932)
  line L48 (21.9487, 21.4932) -> (-18.0153, 21.4932)
  line L49 (-18.0153, 21.4932) -> (-18.0153, 23.4932)
  line L50 (-18.0153, 23.4932) -> (21.9487, 21.4932) construction
  line L51 (21.9487, 23.4932) -> (-18.0153, 21.4932) construction
  line L52 (-18.0333, 18.4932) -> (21.9667, 18.4932)
  line L53 (21.9667, 18.4932) -> (21.9667, 16.4932)
  line L54 (21.9667, 16.4932) -> (-18.0333, 16.4932)
  line L55 (-18.0333, 16.4932) -> (-18.0333, 18.4932)
  line L56 (-18.0333, 18.4932) -> (21.9667, 16.4932) construction
  line L57 (21.9667, 18.4932) -> (-18.0333, 16.4932) construction
  line L58 (-18.0333, 13.4932) -> (21.9667, 13.4932)
  line L59 (21.9667, 13.4932) -> (21.9667, 11.4932)
  line L60 (21.9667, 11.4932) -> (-18.0333, 11.4932)
  line L61 (-18.0333, 11.4932) -> (-18.0333, 13.4932)
  line L62 (-18.0333, 13.4932) -> (21.9667, 11.4932) construction
  line L63 (21.9667, 13.4932) -> (-18.0333, 11.4932) construction
  circle A8 centre (1.9667, 65.9715) radius 29 construction
  line L64 (30.9667, 61.1344) -> (30.9667, -16.1479) projected
  line L65 (-27.0333, -16.1479) -> (-27.0333, 61.1344) projected
  line L66 (1.9667, 65.9715) -> (1.9667, -35.5731) construction
  circle A9 centre (1.9667, 22.4932) radius 43.1412 construction
  line L67 (26.4667, 65.6344) -> (-22.5333, 65.6344) projected
  line L68 (26.4667, -20.6479) -> (-22.5333, -20.6479) projected
  line L69 (-18.0333, -1.5068) -> (21.9667, -1.5068)
  line L70 (21.9667, -1.5068) -> (21.9667, -3.5068)
  line L71 (21.9667, -3.5068) -> (-18.0333, -3.5068)
  line L72 (-18.0333, -3.5068) -> (-18.0333, -1.5068)
  line L73 (-18.0333, -1.5068) -> (21.9667, -3.5068) construction
  line L74 (21.9667, -1.5068) -> (-18.0333, -3.5068) construction
  line L75 (1.9667, 22.4932) -> (35.1577, 22.4932)
  point P0 (0, 0)
  point P1 (8.9667, 65.6344)
  point P2 (-7.0333, 65.6344)
  point P3 (-27.0333, 38.3521)
  point P4 (1.9667, 7.4932)
  point P5 (2.0542, 2.4932)
  point P6 (1.9487, 47.4932)
  point P7 (1.9487, 42.4932)
  point P8 (1.9487, 37.4932)
  point P9 (1.9487, 32.4932)
  point P10 (1.9487, 27.4932)
  point P11 (1.9667, 22.4932)
  point P12 (1.9667, 17.4932)
  point P13 (1.9667, 12.4932)
  point P14 (1.9487, 47.4932)
  point P15 (1.9487, 42.4932)
  point P16 (1.9487, 37.4932)
  point P17 (1.9487, 32.4932)
  point P18 (1.9487, 27.4932)
  point P19 (1.9487, 32.4932)
  point P20 (1.9667, 17.4932)
  point P21 (1.9667, 22.4932)
  point P22 (1.9667, 7.4932)
  point P23 (1.9667, 12.4932)
  point P24 (1.9487, 42.4932)
  point P25 (1.9487, 37.4932)
  point P26 (1.9667, 22.4932)
  point P27 (1, 1)
  point P28 (1.9667, -2.5068)
  point P29 (1.9667, -2.5068)
  dimension "d117" = 40
  dimension "d118" = 2
  dimension "d119" = 2
  dimension "d120" = 3
  dimension "d121" = 40
  dimension "d122" = 2
  dimension "d123" = 2
  dimension "d124" = 3
  dimension "d125" = 40
  dimension "d126" = 2
  dimension "d127" = 2
  dimension "d128" = 3
  dimension "d129" = 40
  dimension "d130" = 2
  dimension "d131" = 2
  dimension "d132" = 3
  dimension "d133" = 40
  dimension "d134" = 2
  dimension "d135" = 2
  dimension "d136" = 3
  dimension "d137" = 3
  dimension "d138" = 3
  dimension "d139" = 3
  dimension "d140" = 3
  dimension "d141" = 2
  dimension "d142" = 3
extrude "Extrusión12" cut sketch "Boceto6" against normal through all contours L47 L48 L49 L46 | L4 L5 L6 L7 | L10 L11 L12 L13 | L16 L17 L18 L19 | L22 L23 L24 L25 | L28 L29 L30 L31 | L34 L35 L36 L37 | L40 L41 L42 L43 | L52 L53 L54 L55 | L58 L59 L60 L61 | L69 L70 L71 L72 bodies 1
extrude "Extrusión13" cut sketch "Boceto5" against normal up to surface (18 mm away) contours L30 L13 L32 L11 | L11 L32 L31 L30 | L30 L33 L32 L13 | L49 L48 L51 L10 A8 | A8 L10 L51 L14 A13 L49 | L24 L13 L26 L11 | L11 L26 L25 L24 | A13 L14 L51 L50 L49 | L24 L27 L26 L13 | L18 L13 L20 L11 | L11 L20 L19 L18 | L43 L42 L45 L10 | L10 L45 L14 L43 | L18 L21 L20 L13 | L14 L45 L44 L43 | L37 L36 L39 A9 L10 | L10 A9 L39 A12 L14 L37 | L14 A12 L39 L38 L37 bodies 1
equation "\"d64\" = d58"
equation "\"d67\" = d58"
properties part number "TapaChasisDron_P1"
